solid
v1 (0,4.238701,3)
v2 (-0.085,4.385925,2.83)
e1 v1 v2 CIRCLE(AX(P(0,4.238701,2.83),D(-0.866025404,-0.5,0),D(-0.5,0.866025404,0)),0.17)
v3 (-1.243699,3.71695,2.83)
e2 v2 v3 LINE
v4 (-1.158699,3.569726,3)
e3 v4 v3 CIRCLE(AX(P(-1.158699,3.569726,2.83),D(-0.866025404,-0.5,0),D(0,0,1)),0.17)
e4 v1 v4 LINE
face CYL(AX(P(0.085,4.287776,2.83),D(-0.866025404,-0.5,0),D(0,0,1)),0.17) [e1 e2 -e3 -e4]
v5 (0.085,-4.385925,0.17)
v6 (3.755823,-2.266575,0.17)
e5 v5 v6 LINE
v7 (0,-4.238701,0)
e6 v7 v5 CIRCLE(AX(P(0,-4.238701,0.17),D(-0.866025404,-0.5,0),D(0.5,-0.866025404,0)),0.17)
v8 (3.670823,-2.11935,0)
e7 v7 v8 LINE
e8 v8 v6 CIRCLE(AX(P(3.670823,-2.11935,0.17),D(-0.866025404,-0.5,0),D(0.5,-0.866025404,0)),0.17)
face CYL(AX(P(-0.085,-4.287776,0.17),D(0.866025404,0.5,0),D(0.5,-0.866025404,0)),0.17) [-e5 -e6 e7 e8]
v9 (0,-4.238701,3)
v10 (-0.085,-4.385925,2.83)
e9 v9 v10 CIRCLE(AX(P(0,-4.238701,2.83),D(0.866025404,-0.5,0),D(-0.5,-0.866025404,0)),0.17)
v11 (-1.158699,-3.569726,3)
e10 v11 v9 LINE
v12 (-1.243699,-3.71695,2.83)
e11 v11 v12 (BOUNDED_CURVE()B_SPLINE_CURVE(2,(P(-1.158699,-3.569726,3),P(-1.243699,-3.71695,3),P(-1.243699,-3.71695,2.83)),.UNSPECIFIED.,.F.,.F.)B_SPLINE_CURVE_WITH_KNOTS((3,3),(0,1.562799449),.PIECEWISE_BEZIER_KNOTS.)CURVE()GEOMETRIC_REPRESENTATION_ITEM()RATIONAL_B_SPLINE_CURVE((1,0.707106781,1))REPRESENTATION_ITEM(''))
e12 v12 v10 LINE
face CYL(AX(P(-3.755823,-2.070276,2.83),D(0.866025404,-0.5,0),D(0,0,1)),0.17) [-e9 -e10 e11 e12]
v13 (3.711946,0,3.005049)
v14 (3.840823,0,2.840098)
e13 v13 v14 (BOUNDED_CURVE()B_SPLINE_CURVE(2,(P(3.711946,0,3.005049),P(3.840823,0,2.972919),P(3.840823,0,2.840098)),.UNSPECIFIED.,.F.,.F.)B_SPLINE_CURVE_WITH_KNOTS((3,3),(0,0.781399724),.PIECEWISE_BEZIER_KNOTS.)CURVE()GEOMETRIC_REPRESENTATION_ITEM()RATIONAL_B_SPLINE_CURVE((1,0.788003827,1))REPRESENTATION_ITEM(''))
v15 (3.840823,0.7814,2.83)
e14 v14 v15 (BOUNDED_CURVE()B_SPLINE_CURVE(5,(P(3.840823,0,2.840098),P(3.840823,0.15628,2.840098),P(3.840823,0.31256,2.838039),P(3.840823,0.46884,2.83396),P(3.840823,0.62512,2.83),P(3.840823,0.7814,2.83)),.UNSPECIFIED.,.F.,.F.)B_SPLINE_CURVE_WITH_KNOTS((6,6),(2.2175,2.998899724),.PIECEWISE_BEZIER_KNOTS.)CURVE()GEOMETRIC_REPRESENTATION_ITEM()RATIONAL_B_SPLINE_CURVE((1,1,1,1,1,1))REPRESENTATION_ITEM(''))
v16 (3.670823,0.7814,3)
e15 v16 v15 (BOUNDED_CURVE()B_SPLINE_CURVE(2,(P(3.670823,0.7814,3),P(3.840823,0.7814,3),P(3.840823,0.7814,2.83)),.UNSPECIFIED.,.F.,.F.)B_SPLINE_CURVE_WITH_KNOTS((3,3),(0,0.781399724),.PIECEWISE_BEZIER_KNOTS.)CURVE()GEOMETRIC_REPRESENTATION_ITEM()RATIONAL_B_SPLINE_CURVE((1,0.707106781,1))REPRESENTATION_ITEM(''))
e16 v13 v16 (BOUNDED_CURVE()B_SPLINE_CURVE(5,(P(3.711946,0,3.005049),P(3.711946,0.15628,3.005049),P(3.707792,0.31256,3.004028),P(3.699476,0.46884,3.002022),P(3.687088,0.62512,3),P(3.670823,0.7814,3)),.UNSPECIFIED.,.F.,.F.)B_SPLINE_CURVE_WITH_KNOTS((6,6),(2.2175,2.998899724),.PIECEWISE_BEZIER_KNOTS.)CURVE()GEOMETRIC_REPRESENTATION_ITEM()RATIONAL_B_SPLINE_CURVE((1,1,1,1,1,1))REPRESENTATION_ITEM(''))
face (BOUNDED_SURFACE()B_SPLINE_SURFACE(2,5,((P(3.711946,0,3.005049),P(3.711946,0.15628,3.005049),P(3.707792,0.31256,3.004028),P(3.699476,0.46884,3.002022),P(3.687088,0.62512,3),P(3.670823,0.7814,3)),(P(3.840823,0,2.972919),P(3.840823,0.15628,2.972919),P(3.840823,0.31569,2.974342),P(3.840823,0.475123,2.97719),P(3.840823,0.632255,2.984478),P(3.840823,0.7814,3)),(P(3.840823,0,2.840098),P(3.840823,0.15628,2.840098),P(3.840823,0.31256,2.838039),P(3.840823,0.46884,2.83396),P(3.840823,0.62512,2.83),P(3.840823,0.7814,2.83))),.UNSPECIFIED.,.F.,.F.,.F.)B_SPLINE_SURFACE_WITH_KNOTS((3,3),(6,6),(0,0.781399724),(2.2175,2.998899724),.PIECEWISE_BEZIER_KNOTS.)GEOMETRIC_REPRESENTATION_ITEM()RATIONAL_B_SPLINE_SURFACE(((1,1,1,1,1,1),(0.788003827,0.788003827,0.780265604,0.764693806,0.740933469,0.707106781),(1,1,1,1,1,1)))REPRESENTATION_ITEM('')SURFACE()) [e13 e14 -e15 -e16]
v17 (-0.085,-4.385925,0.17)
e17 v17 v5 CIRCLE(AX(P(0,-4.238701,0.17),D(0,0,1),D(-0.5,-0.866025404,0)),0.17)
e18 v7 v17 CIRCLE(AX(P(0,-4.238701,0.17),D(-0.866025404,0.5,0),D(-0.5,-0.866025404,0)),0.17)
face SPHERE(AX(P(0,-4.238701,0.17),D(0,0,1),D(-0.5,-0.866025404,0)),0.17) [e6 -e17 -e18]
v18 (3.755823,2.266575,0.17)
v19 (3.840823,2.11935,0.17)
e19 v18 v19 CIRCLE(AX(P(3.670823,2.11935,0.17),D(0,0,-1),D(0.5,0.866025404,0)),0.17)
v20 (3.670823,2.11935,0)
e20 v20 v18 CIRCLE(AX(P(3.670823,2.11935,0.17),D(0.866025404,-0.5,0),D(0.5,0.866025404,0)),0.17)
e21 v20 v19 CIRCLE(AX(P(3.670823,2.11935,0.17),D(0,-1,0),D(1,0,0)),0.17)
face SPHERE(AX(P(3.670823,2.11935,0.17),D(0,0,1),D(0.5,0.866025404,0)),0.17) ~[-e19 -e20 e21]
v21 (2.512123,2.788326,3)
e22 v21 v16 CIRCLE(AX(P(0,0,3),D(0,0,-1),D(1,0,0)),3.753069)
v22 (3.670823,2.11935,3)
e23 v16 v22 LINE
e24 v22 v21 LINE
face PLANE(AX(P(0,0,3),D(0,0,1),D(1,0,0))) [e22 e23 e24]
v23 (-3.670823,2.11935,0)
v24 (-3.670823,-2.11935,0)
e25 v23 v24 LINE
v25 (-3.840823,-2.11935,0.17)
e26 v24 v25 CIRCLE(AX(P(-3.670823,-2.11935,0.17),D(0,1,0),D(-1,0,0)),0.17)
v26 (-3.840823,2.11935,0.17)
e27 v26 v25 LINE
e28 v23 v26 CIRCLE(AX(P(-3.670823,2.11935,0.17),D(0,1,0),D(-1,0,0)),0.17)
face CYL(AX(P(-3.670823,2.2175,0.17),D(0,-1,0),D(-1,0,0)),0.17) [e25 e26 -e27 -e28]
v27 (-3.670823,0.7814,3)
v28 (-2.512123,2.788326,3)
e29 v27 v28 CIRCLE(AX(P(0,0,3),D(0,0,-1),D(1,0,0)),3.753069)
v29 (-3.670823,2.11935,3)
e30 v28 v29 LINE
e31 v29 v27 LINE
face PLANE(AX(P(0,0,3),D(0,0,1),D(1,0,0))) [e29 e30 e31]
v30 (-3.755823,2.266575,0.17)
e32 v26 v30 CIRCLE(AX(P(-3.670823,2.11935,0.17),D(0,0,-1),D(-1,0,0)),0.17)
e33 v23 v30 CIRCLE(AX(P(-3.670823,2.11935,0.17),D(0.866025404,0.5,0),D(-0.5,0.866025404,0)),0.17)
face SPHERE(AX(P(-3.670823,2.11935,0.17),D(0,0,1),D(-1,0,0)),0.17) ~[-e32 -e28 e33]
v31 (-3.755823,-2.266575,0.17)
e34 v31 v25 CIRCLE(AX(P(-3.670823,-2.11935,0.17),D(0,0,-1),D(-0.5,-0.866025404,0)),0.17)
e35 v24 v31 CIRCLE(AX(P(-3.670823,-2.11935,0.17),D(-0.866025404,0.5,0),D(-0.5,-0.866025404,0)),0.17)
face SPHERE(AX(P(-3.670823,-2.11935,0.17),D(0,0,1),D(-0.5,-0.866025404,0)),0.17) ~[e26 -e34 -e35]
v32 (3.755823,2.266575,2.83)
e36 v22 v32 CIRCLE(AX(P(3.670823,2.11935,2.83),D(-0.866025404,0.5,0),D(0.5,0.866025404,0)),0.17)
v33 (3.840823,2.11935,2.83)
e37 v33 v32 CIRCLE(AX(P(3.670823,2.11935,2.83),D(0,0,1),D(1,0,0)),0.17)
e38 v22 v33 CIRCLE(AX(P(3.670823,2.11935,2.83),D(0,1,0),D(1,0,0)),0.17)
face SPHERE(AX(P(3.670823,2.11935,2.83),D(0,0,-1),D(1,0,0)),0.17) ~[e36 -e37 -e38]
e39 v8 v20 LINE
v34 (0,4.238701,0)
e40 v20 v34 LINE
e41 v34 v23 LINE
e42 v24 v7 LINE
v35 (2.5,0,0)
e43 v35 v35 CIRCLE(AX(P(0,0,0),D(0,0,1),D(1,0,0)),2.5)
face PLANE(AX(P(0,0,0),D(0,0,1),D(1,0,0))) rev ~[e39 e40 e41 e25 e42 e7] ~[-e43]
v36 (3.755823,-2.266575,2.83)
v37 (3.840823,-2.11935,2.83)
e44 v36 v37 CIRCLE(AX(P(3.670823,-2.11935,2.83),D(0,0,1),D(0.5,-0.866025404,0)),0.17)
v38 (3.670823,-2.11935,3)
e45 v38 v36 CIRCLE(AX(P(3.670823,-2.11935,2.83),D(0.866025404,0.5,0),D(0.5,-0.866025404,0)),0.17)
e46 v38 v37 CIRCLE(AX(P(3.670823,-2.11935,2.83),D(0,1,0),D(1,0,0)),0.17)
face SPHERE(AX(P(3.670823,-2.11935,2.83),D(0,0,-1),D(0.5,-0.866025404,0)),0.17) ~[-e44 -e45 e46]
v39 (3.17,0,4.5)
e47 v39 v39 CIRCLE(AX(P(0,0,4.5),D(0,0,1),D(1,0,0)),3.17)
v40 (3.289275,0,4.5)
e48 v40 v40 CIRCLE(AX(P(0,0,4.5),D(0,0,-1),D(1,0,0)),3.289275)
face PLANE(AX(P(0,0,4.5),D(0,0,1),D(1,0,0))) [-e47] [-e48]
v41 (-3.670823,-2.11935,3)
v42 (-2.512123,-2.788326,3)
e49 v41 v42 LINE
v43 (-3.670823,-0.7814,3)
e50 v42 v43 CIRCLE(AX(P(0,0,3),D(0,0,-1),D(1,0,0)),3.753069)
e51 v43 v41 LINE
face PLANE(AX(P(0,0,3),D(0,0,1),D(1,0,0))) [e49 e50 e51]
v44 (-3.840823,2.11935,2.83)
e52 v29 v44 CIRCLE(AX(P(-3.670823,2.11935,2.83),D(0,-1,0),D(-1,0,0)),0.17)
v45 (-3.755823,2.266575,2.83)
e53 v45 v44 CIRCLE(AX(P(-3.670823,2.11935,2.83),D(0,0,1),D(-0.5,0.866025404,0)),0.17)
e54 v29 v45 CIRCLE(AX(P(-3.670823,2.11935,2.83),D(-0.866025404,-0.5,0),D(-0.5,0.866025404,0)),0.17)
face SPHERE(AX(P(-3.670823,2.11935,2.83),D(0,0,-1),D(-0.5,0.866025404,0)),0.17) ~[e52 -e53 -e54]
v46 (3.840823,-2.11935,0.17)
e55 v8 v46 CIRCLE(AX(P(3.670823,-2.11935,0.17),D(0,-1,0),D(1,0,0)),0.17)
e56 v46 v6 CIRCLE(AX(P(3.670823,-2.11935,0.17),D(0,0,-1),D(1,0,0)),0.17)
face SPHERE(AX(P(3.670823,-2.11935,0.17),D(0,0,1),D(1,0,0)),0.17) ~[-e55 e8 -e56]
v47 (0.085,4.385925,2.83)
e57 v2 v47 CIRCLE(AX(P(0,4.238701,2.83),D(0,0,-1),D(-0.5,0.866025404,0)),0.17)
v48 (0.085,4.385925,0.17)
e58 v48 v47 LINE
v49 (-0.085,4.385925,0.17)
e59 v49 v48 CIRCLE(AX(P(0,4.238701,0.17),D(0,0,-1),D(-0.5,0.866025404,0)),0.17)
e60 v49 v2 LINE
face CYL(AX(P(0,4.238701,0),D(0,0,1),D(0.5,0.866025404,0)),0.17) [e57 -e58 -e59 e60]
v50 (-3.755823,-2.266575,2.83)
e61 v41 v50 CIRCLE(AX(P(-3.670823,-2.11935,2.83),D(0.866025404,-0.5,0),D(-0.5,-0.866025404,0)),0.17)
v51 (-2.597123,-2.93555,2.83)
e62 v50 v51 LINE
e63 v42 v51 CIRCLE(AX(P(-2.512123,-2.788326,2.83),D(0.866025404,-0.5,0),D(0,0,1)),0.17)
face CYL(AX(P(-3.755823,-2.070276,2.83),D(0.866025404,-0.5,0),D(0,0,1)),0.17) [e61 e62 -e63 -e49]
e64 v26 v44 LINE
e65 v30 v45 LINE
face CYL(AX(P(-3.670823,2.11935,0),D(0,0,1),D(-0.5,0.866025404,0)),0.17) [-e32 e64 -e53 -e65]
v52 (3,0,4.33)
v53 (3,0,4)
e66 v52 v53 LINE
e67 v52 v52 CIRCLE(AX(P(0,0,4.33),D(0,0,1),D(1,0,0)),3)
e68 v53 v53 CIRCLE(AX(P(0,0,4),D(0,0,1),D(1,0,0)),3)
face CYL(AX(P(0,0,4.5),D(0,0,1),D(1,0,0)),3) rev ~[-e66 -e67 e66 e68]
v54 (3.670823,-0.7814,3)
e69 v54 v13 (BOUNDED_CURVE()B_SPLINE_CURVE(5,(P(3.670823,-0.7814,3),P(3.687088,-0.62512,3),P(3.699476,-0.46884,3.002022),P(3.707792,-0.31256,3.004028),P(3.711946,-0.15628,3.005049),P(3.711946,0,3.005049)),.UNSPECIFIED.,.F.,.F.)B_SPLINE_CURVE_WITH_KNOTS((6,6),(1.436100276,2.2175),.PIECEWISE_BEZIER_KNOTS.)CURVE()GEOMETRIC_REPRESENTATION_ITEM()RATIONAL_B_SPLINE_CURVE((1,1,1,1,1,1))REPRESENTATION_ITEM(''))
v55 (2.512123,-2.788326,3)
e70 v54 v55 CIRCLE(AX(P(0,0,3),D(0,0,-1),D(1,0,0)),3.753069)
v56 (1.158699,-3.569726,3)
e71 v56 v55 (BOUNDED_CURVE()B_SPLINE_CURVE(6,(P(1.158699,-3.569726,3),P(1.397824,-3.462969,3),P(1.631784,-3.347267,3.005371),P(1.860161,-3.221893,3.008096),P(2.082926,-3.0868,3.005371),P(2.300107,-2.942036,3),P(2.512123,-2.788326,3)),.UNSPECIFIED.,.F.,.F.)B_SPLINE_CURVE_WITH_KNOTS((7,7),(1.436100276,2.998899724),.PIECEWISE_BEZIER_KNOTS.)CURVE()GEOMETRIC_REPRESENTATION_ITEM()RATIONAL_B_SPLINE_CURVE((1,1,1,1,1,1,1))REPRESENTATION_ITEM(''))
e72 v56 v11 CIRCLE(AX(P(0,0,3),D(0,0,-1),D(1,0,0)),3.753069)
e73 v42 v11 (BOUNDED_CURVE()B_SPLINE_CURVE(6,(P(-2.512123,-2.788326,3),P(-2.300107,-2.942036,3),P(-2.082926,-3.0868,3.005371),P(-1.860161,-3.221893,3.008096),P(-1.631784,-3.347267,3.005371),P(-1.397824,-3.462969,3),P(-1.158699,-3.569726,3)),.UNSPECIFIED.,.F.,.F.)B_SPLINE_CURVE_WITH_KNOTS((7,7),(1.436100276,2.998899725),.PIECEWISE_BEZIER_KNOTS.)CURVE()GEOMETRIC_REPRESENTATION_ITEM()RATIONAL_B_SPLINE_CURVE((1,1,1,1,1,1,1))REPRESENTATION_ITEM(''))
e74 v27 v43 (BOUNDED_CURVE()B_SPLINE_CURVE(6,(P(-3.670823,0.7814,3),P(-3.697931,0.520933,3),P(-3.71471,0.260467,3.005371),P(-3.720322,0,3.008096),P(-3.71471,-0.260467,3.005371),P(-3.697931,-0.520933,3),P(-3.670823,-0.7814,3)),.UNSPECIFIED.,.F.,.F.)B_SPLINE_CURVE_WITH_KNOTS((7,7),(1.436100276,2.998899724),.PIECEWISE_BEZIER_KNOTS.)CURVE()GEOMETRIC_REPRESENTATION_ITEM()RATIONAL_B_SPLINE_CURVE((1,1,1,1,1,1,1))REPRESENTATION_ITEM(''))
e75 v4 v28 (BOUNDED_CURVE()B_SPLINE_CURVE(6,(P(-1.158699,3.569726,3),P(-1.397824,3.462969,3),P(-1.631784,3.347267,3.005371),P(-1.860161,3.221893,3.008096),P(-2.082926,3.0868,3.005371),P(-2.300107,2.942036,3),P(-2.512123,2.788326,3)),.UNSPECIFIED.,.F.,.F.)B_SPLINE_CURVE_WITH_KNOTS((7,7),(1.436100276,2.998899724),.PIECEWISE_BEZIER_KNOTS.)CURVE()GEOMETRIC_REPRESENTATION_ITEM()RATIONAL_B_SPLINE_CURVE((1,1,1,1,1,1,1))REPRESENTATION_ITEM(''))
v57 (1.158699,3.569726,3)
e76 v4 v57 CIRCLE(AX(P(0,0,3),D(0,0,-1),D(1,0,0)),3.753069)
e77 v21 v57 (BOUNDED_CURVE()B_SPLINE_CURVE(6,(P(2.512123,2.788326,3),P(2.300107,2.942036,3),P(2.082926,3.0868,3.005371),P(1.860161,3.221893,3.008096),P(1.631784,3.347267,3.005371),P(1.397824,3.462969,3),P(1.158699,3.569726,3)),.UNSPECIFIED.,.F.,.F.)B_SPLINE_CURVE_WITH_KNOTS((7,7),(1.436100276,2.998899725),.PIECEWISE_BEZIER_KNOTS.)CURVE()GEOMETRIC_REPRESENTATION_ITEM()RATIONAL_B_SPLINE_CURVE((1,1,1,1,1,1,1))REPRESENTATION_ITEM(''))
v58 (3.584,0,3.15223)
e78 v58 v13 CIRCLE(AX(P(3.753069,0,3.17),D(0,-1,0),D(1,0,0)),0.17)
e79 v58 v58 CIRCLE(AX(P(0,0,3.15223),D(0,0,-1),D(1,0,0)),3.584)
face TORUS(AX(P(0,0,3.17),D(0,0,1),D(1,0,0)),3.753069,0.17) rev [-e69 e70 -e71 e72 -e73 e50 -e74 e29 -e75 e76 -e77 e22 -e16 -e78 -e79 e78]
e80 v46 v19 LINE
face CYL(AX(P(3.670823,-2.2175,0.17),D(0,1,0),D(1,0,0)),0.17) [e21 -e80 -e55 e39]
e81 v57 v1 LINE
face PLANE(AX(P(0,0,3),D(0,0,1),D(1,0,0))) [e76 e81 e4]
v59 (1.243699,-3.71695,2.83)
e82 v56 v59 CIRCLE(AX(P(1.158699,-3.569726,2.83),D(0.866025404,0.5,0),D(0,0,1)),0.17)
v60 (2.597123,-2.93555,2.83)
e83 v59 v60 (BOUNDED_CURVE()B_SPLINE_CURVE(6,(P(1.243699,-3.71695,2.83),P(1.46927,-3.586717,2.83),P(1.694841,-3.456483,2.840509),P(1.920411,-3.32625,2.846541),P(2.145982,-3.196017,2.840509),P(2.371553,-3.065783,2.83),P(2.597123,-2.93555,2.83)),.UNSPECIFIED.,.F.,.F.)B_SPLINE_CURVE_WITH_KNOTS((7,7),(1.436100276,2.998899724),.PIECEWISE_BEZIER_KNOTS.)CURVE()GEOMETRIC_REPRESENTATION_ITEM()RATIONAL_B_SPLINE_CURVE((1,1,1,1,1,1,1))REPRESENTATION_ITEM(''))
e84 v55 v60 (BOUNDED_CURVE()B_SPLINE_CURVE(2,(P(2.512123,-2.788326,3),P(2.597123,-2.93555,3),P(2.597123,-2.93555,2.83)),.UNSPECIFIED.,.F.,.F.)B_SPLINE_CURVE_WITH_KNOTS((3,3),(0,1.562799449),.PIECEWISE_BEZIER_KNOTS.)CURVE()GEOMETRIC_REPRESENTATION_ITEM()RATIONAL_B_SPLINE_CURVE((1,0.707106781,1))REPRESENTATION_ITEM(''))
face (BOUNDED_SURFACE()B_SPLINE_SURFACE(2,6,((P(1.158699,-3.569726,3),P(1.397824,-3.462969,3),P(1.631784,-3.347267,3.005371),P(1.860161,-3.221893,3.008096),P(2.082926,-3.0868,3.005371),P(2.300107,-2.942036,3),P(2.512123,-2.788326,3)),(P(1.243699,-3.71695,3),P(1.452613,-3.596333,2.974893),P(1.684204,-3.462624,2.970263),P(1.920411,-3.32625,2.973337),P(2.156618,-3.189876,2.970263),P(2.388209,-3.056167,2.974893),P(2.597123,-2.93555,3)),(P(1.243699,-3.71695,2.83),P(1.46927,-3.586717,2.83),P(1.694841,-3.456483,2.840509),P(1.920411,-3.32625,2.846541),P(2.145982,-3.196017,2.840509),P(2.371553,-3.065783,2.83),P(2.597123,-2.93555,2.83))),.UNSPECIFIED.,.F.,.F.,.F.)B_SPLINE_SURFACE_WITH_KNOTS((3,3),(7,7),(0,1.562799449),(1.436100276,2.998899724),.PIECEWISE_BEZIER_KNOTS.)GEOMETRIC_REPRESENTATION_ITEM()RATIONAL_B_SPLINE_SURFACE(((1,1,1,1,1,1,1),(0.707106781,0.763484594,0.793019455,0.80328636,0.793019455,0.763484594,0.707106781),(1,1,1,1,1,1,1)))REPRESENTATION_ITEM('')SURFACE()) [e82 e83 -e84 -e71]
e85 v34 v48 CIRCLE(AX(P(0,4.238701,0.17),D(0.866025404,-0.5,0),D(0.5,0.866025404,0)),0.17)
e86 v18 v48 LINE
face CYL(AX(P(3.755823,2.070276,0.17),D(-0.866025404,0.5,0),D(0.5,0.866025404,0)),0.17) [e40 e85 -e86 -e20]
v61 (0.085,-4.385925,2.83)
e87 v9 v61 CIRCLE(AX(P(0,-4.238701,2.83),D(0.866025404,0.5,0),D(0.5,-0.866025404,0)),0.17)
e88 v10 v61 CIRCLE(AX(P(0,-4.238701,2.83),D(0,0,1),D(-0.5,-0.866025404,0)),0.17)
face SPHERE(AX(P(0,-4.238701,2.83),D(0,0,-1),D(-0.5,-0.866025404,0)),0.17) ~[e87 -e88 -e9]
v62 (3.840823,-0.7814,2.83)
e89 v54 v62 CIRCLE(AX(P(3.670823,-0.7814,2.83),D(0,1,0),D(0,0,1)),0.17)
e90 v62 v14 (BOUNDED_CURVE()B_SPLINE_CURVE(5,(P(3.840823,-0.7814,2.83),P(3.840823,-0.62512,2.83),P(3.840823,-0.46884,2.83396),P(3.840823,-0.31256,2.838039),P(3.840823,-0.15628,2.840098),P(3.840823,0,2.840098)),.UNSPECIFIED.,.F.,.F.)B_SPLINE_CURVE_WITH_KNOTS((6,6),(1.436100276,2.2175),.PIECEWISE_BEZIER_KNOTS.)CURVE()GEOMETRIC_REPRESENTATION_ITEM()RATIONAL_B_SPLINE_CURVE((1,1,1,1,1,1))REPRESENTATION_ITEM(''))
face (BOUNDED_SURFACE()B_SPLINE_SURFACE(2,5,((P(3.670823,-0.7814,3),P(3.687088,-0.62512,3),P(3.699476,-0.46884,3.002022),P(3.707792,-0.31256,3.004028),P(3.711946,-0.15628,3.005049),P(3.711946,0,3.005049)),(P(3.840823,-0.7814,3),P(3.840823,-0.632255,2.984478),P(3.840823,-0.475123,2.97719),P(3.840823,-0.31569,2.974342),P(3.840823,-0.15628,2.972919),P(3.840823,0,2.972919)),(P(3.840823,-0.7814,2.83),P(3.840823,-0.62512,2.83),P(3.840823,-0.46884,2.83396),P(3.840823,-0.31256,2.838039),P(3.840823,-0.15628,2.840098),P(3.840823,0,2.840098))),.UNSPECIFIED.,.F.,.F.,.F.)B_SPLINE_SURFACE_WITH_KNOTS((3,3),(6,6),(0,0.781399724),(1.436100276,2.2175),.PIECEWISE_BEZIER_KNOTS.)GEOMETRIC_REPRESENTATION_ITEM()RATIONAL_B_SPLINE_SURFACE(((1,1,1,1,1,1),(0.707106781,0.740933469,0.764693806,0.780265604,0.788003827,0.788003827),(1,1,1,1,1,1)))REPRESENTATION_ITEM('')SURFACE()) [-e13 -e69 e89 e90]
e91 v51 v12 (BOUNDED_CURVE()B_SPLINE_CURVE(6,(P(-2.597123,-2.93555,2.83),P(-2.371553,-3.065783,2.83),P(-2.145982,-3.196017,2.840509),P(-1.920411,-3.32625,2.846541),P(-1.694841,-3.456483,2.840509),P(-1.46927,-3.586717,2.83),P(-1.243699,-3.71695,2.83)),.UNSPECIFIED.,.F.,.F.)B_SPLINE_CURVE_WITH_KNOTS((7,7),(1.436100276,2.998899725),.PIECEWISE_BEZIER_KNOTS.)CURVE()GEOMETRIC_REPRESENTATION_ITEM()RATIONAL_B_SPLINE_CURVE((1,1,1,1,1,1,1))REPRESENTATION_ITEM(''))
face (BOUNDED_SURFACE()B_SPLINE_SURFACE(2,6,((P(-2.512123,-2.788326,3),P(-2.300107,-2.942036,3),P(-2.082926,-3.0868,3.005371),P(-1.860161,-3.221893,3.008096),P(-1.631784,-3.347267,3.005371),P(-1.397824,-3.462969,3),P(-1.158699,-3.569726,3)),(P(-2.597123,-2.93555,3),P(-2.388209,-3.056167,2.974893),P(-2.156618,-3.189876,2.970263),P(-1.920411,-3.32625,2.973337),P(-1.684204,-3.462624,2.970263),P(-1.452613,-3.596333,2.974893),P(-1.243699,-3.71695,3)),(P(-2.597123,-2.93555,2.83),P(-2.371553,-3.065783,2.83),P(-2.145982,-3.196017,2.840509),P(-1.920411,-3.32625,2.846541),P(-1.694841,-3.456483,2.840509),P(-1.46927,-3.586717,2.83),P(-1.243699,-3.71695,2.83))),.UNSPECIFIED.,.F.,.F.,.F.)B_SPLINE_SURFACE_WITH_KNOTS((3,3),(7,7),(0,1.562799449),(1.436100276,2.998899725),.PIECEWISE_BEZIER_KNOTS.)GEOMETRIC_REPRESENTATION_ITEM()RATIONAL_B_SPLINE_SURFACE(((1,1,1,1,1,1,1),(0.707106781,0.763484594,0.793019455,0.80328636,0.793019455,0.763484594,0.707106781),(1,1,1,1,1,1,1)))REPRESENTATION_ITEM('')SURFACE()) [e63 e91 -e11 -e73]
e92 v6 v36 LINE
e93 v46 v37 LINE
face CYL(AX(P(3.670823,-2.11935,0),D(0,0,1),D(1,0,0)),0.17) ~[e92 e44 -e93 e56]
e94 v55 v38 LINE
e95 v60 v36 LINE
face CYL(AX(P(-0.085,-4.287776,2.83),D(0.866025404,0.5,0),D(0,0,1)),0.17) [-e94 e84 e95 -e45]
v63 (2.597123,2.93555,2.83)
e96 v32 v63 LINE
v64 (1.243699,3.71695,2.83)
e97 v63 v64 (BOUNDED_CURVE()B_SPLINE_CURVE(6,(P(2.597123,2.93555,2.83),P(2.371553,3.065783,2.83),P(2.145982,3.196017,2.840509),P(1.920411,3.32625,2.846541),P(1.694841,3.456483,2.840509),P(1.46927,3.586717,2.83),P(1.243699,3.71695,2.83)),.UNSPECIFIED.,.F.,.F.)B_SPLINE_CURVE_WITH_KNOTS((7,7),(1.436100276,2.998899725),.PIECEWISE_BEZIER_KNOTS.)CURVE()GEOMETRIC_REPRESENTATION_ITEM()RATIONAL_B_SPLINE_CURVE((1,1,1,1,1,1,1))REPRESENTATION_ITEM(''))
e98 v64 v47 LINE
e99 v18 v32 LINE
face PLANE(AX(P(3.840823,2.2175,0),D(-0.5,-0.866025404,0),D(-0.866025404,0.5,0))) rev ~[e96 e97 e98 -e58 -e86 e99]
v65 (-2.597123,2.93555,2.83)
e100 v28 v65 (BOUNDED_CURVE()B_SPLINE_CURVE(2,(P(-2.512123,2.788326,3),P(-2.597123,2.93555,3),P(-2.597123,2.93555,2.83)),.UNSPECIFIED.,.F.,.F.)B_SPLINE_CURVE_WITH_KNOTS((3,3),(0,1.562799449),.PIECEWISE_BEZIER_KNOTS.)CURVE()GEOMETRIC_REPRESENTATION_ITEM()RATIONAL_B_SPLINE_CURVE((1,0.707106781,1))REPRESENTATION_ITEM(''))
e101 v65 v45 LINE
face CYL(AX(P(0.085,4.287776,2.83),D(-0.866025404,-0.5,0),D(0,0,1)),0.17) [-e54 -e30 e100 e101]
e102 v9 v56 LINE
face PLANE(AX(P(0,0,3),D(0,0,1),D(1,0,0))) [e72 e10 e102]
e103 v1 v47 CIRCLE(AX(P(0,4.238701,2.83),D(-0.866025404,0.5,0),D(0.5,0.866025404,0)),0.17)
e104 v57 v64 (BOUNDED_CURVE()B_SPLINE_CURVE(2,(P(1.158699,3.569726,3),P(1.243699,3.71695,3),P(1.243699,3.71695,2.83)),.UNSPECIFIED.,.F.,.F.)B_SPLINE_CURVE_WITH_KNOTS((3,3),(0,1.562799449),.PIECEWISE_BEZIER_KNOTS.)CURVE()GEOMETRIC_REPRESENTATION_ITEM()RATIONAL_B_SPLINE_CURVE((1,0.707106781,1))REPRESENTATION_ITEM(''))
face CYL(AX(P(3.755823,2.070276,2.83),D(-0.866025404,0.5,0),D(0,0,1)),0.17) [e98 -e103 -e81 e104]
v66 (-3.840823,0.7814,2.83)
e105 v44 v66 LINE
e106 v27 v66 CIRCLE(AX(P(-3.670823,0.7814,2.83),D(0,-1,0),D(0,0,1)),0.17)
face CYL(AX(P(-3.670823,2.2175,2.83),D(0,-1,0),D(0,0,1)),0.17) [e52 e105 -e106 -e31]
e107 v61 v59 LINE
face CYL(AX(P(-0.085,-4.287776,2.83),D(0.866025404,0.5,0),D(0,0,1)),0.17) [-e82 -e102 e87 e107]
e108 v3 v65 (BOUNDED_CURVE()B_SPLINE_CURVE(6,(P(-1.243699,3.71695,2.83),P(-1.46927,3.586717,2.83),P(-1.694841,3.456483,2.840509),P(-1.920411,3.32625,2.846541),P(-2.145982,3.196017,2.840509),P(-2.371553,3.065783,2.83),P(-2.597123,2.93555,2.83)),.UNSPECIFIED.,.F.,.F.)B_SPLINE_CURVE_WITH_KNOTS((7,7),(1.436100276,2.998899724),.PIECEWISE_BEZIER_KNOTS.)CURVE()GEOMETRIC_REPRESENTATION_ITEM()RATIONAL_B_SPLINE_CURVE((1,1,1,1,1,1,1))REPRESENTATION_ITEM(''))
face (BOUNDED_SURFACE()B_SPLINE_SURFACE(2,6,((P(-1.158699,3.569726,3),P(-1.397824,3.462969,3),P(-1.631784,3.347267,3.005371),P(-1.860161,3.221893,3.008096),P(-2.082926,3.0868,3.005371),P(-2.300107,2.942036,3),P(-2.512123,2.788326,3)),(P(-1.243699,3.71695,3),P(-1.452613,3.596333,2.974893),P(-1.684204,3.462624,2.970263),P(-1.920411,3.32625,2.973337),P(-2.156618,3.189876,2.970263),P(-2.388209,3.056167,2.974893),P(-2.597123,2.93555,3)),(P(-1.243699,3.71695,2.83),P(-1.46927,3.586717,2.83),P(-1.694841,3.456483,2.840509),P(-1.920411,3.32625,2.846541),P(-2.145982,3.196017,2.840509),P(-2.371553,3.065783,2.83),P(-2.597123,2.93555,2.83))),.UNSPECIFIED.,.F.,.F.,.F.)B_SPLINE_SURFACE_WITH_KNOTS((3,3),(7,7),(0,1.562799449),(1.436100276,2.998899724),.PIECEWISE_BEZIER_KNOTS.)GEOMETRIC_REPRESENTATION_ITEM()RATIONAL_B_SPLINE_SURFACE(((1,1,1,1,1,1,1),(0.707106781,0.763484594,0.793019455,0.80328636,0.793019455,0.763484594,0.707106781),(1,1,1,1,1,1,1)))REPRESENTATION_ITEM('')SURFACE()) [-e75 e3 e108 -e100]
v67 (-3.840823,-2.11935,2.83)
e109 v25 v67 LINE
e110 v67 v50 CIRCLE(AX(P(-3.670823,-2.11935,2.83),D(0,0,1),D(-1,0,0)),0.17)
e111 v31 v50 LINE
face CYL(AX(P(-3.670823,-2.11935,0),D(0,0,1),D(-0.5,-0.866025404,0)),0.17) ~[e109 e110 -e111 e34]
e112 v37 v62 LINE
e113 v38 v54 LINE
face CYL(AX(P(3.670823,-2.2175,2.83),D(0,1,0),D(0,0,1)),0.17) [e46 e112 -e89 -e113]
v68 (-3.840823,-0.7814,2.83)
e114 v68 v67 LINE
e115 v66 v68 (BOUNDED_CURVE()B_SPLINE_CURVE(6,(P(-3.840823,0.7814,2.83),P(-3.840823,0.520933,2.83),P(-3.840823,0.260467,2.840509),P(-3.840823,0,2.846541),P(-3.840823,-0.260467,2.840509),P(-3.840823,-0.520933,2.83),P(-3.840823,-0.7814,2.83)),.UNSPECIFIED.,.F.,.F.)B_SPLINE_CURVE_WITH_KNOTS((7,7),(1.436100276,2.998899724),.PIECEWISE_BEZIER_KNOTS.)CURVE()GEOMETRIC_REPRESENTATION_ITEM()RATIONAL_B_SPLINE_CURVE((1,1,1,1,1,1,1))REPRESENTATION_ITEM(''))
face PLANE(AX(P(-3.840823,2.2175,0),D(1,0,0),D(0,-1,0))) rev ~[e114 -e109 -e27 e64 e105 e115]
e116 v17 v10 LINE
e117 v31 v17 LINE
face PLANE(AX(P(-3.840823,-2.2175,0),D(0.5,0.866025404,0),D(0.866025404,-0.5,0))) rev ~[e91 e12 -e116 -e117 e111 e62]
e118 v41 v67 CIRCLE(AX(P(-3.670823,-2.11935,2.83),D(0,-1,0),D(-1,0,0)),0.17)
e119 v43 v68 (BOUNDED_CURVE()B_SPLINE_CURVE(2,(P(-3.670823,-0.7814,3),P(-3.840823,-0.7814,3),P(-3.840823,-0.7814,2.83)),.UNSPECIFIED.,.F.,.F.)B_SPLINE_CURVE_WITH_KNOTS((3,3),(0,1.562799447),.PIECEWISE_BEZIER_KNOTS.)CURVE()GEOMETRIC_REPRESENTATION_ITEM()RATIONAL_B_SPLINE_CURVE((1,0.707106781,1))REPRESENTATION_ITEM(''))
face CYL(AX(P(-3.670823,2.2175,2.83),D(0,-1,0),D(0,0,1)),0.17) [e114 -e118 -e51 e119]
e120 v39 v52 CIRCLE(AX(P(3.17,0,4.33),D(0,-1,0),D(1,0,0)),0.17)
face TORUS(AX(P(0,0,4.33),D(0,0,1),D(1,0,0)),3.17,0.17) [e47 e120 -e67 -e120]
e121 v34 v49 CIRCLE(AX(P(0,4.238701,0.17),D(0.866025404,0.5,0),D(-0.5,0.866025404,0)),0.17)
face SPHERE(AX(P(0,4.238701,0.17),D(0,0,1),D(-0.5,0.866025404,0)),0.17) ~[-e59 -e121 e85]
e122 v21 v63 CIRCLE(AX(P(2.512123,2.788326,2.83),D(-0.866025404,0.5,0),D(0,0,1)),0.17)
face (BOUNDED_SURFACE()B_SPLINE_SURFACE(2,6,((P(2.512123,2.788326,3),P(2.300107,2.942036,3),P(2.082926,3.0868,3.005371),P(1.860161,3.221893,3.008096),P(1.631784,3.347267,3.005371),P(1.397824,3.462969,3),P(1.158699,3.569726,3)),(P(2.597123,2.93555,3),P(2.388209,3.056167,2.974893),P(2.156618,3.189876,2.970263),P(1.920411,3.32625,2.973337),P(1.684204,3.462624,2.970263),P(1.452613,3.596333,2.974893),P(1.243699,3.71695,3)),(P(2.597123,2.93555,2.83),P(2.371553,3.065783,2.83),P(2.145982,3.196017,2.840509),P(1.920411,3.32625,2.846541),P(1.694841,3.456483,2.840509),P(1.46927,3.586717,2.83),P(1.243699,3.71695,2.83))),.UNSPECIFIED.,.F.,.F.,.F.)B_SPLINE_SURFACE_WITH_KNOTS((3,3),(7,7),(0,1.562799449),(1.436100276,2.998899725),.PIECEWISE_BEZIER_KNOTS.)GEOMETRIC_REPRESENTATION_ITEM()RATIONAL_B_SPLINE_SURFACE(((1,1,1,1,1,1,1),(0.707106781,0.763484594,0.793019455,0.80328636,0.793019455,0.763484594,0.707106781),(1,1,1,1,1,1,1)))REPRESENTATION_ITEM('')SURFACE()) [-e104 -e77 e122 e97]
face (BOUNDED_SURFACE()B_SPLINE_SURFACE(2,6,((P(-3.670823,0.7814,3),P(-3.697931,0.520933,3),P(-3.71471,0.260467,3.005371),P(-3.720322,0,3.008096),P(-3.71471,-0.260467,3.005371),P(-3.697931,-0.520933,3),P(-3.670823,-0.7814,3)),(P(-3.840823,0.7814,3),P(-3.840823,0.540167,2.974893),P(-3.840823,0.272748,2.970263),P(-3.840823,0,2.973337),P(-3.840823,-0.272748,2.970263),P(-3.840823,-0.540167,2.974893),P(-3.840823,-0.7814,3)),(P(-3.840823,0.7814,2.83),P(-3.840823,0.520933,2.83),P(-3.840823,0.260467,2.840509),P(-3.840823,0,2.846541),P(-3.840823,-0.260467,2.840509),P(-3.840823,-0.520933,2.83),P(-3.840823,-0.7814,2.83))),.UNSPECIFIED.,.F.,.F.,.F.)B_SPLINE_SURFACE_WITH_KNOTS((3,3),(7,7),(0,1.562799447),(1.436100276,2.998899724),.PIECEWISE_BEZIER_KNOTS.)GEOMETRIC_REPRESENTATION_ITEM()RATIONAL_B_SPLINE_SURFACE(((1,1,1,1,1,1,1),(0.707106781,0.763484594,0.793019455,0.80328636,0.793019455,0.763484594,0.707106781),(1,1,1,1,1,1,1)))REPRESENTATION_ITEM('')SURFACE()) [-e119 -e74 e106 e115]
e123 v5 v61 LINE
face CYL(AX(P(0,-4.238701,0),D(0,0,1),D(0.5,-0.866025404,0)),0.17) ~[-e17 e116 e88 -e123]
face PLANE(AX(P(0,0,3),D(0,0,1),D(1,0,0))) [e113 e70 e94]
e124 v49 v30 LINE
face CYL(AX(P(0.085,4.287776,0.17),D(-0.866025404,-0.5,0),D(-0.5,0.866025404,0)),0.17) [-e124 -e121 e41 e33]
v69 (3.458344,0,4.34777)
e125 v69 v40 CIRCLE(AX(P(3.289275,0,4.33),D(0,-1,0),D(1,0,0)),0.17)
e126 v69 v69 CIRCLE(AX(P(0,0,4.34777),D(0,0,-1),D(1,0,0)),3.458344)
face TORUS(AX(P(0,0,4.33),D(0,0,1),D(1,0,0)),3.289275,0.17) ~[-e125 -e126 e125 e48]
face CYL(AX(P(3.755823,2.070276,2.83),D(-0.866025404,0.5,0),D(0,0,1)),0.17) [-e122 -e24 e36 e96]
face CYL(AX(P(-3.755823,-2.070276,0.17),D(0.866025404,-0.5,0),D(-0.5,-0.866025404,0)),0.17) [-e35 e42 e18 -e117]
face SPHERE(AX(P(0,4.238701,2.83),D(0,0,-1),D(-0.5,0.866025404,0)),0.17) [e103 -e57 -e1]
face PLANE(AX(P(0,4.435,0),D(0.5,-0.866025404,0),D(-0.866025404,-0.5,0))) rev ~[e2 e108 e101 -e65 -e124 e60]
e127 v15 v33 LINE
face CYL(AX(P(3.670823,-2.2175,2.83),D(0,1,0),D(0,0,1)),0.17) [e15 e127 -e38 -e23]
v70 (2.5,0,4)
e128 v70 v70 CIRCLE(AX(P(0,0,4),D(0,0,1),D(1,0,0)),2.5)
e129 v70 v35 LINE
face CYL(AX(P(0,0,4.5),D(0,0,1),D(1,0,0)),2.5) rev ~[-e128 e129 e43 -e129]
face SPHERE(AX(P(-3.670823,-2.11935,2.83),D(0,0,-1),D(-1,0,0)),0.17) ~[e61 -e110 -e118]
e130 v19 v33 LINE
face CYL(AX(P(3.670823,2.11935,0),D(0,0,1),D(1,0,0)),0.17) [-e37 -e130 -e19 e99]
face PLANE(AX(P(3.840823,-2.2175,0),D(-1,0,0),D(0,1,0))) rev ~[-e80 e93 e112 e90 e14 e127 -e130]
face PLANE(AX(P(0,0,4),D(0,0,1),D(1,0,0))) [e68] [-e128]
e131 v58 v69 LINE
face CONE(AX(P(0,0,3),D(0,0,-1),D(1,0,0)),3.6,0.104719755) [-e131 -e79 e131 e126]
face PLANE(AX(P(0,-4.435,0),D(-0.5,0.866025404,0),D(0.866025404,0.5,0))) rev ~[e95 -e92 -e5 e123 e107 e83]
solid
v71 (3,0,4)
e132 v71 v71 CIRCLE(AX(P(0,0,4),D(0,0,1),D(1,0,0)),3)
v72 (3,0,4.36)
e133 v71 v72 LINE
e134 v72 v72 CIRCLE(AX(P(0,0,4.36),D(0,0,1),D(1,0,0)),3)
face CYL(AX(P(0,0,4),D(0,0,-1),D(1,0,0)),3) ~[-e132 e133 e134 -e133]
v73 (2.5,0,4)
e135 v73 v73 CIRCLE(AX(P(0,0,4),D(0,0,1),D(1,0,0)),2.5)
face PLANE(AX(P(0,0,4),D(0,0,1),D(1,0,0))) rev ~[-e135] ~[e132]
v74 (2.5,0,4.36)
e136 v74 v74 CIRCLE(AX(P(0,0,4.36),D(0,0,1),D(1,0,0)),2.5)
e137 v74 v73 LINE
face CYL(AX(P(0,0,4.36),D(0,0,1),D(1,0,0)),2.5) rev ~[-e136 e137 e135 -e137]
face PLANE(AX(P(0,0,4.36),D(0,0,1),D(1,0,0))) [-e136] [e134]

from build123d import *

# Parameters (mm, degrees)
BOSS_EXTRUDE1_DEPTH = 3
SKETCH2_R           = 3.6
BOSS_EXTRUDE2_DEPTH = 1.5
BOSS_EXTRUDE2_TAPER = 6
SKETCH3_R           = 2.5
CUT_EXTRUDE1_DEPTH  = 5.5
SKETCH4_R           = 3
CUT_EXTRUDE2_DEPTH  = 0.5
FILLET2_R           = 0.17
FILLET3_R           = 0.17
SKETCH5_R           = 3
BOSS_EXTRUDE4_DEPTH = 0.36
SKETCH8_R           = 2.5
CUT_EXTRUDE3_DEPTH  = 0.36
FILLET4_R           = 0.17
FILLET5_R           = 0.17


with BuildPart() as part:
    # Sketch1 → Boss-Extrude1 (new body)
    with BuildSketch(Plane.XY):
        Polygon((3.840822666, -2.2175), (3.840822666, 2.2175), (0, 4.435), (-3.840822666, 2.2175), (-3.840822666, -2.2175), (0, -4.435), align=None)
    extrude(amount=BOSS_EXTRUDE1_DEPTH)

    # Sketch2 → Boss-Extrude2 (add)
    with BuildSketch(Plane.XY.offset(3)):
        Circle(SKETCH2_R)
    extrude(amount=BOSS_EXTRUDE2_DEPTH, taper=BOSS_EXTRUDE2_TAPER)

    # Sketch3 → Cut-Extrude1 (cut, through all)
    with BuildSketch(Plane.XY.offset(4.5)):
        Circle(SKETCH3_R)
    extrude(amount=-CUT_EXTRUDE1_DEPTH, mode=Mode.SUBTRACT)

    # Sketch4 → Cut-Extrude2 (cut)
    with BuildSketch(Plane.XY.offset(4.5)):
        Circle(SKETCH4_R)
    extrude(amount=-CUT_EXTRUDE2_DEPTH, mode=Mode.SUBTRACT)

    # Fillet2
    fillet2_edges = [part.edges().sort_by_distance(p)[0] for p in [
        (-3.442343647, 0, 4.5),
    ]]
    fillet(fillet2_edges, radius=FILLET2_R)

    # Fillet3
    fillet3_edges = [part.edges().sort_by_distance(p)[0] for p in [
        (-3, 0, 4.5),
    ]]
    fillet(fillet3_edges, radius=FILLET3_R)

    # Fillet4
    fillet4_edges = [part.edges().sort_by_distance(p)[0] for p in [
        (-3.6, 0, 3),
    ]]
    fillet(fillet4_edges, radius=FILLET4_R)

    # Fillet5
    fillet5_edges = [part.edges().sort_by_distance(p)[0] for p in [
        (1.920411333, 3.32625, 3),
        (0, -4.435, 1.5),
        (-3.840822666, -2.2175, 1.5),
        (-3.840822666, 2.2175, 1.5),
        (0, 4.435, 1.5),
        (3.840822666, 2.2175, 1.5),
        (3.840822666, -2.2175, 1.5),
        (-1.920411333, 3.32625, 3),
        (-3.840822666, 0, 3),
        (-1.920411333, -3.32625, 3),
        (1.920411333, -3.32625, 3),
        (-1.920411333, -3.32625, 0),
        (-3.840822666, 0, 0),
        (-1.920411333, 3.32625, 0),
        (3.840822666, 0, 3),
        (1.920411333, 3.32625, 0),
        (3.840822666, 0, 0),
        (1.920411333, -3.32625, 0),
    ]]
    fillet(fillet5_edges, radius=FILLET5_R)


with BuildPart() as body_2:
    # Sketch5 → Boss-Extrude4 (new body)
    with BuildSketch(Plane.XY.offset(4)):
        Circle(SKETCH5_R)
    extrude(amount=BOSS_EXTRUDE4_DEPTH)

    # Sketch8 → Cut-Extrude3 (cut)
    with BuildSketch(Plane.XY.offset(4.36)):
        Circle(SKETCH8_R)
    extrude(amount=-CUT_EXTRUDE3_DEPTH, mode=Mode.SUBTRACT)


solid = Compound([part.part, body_2.part])
